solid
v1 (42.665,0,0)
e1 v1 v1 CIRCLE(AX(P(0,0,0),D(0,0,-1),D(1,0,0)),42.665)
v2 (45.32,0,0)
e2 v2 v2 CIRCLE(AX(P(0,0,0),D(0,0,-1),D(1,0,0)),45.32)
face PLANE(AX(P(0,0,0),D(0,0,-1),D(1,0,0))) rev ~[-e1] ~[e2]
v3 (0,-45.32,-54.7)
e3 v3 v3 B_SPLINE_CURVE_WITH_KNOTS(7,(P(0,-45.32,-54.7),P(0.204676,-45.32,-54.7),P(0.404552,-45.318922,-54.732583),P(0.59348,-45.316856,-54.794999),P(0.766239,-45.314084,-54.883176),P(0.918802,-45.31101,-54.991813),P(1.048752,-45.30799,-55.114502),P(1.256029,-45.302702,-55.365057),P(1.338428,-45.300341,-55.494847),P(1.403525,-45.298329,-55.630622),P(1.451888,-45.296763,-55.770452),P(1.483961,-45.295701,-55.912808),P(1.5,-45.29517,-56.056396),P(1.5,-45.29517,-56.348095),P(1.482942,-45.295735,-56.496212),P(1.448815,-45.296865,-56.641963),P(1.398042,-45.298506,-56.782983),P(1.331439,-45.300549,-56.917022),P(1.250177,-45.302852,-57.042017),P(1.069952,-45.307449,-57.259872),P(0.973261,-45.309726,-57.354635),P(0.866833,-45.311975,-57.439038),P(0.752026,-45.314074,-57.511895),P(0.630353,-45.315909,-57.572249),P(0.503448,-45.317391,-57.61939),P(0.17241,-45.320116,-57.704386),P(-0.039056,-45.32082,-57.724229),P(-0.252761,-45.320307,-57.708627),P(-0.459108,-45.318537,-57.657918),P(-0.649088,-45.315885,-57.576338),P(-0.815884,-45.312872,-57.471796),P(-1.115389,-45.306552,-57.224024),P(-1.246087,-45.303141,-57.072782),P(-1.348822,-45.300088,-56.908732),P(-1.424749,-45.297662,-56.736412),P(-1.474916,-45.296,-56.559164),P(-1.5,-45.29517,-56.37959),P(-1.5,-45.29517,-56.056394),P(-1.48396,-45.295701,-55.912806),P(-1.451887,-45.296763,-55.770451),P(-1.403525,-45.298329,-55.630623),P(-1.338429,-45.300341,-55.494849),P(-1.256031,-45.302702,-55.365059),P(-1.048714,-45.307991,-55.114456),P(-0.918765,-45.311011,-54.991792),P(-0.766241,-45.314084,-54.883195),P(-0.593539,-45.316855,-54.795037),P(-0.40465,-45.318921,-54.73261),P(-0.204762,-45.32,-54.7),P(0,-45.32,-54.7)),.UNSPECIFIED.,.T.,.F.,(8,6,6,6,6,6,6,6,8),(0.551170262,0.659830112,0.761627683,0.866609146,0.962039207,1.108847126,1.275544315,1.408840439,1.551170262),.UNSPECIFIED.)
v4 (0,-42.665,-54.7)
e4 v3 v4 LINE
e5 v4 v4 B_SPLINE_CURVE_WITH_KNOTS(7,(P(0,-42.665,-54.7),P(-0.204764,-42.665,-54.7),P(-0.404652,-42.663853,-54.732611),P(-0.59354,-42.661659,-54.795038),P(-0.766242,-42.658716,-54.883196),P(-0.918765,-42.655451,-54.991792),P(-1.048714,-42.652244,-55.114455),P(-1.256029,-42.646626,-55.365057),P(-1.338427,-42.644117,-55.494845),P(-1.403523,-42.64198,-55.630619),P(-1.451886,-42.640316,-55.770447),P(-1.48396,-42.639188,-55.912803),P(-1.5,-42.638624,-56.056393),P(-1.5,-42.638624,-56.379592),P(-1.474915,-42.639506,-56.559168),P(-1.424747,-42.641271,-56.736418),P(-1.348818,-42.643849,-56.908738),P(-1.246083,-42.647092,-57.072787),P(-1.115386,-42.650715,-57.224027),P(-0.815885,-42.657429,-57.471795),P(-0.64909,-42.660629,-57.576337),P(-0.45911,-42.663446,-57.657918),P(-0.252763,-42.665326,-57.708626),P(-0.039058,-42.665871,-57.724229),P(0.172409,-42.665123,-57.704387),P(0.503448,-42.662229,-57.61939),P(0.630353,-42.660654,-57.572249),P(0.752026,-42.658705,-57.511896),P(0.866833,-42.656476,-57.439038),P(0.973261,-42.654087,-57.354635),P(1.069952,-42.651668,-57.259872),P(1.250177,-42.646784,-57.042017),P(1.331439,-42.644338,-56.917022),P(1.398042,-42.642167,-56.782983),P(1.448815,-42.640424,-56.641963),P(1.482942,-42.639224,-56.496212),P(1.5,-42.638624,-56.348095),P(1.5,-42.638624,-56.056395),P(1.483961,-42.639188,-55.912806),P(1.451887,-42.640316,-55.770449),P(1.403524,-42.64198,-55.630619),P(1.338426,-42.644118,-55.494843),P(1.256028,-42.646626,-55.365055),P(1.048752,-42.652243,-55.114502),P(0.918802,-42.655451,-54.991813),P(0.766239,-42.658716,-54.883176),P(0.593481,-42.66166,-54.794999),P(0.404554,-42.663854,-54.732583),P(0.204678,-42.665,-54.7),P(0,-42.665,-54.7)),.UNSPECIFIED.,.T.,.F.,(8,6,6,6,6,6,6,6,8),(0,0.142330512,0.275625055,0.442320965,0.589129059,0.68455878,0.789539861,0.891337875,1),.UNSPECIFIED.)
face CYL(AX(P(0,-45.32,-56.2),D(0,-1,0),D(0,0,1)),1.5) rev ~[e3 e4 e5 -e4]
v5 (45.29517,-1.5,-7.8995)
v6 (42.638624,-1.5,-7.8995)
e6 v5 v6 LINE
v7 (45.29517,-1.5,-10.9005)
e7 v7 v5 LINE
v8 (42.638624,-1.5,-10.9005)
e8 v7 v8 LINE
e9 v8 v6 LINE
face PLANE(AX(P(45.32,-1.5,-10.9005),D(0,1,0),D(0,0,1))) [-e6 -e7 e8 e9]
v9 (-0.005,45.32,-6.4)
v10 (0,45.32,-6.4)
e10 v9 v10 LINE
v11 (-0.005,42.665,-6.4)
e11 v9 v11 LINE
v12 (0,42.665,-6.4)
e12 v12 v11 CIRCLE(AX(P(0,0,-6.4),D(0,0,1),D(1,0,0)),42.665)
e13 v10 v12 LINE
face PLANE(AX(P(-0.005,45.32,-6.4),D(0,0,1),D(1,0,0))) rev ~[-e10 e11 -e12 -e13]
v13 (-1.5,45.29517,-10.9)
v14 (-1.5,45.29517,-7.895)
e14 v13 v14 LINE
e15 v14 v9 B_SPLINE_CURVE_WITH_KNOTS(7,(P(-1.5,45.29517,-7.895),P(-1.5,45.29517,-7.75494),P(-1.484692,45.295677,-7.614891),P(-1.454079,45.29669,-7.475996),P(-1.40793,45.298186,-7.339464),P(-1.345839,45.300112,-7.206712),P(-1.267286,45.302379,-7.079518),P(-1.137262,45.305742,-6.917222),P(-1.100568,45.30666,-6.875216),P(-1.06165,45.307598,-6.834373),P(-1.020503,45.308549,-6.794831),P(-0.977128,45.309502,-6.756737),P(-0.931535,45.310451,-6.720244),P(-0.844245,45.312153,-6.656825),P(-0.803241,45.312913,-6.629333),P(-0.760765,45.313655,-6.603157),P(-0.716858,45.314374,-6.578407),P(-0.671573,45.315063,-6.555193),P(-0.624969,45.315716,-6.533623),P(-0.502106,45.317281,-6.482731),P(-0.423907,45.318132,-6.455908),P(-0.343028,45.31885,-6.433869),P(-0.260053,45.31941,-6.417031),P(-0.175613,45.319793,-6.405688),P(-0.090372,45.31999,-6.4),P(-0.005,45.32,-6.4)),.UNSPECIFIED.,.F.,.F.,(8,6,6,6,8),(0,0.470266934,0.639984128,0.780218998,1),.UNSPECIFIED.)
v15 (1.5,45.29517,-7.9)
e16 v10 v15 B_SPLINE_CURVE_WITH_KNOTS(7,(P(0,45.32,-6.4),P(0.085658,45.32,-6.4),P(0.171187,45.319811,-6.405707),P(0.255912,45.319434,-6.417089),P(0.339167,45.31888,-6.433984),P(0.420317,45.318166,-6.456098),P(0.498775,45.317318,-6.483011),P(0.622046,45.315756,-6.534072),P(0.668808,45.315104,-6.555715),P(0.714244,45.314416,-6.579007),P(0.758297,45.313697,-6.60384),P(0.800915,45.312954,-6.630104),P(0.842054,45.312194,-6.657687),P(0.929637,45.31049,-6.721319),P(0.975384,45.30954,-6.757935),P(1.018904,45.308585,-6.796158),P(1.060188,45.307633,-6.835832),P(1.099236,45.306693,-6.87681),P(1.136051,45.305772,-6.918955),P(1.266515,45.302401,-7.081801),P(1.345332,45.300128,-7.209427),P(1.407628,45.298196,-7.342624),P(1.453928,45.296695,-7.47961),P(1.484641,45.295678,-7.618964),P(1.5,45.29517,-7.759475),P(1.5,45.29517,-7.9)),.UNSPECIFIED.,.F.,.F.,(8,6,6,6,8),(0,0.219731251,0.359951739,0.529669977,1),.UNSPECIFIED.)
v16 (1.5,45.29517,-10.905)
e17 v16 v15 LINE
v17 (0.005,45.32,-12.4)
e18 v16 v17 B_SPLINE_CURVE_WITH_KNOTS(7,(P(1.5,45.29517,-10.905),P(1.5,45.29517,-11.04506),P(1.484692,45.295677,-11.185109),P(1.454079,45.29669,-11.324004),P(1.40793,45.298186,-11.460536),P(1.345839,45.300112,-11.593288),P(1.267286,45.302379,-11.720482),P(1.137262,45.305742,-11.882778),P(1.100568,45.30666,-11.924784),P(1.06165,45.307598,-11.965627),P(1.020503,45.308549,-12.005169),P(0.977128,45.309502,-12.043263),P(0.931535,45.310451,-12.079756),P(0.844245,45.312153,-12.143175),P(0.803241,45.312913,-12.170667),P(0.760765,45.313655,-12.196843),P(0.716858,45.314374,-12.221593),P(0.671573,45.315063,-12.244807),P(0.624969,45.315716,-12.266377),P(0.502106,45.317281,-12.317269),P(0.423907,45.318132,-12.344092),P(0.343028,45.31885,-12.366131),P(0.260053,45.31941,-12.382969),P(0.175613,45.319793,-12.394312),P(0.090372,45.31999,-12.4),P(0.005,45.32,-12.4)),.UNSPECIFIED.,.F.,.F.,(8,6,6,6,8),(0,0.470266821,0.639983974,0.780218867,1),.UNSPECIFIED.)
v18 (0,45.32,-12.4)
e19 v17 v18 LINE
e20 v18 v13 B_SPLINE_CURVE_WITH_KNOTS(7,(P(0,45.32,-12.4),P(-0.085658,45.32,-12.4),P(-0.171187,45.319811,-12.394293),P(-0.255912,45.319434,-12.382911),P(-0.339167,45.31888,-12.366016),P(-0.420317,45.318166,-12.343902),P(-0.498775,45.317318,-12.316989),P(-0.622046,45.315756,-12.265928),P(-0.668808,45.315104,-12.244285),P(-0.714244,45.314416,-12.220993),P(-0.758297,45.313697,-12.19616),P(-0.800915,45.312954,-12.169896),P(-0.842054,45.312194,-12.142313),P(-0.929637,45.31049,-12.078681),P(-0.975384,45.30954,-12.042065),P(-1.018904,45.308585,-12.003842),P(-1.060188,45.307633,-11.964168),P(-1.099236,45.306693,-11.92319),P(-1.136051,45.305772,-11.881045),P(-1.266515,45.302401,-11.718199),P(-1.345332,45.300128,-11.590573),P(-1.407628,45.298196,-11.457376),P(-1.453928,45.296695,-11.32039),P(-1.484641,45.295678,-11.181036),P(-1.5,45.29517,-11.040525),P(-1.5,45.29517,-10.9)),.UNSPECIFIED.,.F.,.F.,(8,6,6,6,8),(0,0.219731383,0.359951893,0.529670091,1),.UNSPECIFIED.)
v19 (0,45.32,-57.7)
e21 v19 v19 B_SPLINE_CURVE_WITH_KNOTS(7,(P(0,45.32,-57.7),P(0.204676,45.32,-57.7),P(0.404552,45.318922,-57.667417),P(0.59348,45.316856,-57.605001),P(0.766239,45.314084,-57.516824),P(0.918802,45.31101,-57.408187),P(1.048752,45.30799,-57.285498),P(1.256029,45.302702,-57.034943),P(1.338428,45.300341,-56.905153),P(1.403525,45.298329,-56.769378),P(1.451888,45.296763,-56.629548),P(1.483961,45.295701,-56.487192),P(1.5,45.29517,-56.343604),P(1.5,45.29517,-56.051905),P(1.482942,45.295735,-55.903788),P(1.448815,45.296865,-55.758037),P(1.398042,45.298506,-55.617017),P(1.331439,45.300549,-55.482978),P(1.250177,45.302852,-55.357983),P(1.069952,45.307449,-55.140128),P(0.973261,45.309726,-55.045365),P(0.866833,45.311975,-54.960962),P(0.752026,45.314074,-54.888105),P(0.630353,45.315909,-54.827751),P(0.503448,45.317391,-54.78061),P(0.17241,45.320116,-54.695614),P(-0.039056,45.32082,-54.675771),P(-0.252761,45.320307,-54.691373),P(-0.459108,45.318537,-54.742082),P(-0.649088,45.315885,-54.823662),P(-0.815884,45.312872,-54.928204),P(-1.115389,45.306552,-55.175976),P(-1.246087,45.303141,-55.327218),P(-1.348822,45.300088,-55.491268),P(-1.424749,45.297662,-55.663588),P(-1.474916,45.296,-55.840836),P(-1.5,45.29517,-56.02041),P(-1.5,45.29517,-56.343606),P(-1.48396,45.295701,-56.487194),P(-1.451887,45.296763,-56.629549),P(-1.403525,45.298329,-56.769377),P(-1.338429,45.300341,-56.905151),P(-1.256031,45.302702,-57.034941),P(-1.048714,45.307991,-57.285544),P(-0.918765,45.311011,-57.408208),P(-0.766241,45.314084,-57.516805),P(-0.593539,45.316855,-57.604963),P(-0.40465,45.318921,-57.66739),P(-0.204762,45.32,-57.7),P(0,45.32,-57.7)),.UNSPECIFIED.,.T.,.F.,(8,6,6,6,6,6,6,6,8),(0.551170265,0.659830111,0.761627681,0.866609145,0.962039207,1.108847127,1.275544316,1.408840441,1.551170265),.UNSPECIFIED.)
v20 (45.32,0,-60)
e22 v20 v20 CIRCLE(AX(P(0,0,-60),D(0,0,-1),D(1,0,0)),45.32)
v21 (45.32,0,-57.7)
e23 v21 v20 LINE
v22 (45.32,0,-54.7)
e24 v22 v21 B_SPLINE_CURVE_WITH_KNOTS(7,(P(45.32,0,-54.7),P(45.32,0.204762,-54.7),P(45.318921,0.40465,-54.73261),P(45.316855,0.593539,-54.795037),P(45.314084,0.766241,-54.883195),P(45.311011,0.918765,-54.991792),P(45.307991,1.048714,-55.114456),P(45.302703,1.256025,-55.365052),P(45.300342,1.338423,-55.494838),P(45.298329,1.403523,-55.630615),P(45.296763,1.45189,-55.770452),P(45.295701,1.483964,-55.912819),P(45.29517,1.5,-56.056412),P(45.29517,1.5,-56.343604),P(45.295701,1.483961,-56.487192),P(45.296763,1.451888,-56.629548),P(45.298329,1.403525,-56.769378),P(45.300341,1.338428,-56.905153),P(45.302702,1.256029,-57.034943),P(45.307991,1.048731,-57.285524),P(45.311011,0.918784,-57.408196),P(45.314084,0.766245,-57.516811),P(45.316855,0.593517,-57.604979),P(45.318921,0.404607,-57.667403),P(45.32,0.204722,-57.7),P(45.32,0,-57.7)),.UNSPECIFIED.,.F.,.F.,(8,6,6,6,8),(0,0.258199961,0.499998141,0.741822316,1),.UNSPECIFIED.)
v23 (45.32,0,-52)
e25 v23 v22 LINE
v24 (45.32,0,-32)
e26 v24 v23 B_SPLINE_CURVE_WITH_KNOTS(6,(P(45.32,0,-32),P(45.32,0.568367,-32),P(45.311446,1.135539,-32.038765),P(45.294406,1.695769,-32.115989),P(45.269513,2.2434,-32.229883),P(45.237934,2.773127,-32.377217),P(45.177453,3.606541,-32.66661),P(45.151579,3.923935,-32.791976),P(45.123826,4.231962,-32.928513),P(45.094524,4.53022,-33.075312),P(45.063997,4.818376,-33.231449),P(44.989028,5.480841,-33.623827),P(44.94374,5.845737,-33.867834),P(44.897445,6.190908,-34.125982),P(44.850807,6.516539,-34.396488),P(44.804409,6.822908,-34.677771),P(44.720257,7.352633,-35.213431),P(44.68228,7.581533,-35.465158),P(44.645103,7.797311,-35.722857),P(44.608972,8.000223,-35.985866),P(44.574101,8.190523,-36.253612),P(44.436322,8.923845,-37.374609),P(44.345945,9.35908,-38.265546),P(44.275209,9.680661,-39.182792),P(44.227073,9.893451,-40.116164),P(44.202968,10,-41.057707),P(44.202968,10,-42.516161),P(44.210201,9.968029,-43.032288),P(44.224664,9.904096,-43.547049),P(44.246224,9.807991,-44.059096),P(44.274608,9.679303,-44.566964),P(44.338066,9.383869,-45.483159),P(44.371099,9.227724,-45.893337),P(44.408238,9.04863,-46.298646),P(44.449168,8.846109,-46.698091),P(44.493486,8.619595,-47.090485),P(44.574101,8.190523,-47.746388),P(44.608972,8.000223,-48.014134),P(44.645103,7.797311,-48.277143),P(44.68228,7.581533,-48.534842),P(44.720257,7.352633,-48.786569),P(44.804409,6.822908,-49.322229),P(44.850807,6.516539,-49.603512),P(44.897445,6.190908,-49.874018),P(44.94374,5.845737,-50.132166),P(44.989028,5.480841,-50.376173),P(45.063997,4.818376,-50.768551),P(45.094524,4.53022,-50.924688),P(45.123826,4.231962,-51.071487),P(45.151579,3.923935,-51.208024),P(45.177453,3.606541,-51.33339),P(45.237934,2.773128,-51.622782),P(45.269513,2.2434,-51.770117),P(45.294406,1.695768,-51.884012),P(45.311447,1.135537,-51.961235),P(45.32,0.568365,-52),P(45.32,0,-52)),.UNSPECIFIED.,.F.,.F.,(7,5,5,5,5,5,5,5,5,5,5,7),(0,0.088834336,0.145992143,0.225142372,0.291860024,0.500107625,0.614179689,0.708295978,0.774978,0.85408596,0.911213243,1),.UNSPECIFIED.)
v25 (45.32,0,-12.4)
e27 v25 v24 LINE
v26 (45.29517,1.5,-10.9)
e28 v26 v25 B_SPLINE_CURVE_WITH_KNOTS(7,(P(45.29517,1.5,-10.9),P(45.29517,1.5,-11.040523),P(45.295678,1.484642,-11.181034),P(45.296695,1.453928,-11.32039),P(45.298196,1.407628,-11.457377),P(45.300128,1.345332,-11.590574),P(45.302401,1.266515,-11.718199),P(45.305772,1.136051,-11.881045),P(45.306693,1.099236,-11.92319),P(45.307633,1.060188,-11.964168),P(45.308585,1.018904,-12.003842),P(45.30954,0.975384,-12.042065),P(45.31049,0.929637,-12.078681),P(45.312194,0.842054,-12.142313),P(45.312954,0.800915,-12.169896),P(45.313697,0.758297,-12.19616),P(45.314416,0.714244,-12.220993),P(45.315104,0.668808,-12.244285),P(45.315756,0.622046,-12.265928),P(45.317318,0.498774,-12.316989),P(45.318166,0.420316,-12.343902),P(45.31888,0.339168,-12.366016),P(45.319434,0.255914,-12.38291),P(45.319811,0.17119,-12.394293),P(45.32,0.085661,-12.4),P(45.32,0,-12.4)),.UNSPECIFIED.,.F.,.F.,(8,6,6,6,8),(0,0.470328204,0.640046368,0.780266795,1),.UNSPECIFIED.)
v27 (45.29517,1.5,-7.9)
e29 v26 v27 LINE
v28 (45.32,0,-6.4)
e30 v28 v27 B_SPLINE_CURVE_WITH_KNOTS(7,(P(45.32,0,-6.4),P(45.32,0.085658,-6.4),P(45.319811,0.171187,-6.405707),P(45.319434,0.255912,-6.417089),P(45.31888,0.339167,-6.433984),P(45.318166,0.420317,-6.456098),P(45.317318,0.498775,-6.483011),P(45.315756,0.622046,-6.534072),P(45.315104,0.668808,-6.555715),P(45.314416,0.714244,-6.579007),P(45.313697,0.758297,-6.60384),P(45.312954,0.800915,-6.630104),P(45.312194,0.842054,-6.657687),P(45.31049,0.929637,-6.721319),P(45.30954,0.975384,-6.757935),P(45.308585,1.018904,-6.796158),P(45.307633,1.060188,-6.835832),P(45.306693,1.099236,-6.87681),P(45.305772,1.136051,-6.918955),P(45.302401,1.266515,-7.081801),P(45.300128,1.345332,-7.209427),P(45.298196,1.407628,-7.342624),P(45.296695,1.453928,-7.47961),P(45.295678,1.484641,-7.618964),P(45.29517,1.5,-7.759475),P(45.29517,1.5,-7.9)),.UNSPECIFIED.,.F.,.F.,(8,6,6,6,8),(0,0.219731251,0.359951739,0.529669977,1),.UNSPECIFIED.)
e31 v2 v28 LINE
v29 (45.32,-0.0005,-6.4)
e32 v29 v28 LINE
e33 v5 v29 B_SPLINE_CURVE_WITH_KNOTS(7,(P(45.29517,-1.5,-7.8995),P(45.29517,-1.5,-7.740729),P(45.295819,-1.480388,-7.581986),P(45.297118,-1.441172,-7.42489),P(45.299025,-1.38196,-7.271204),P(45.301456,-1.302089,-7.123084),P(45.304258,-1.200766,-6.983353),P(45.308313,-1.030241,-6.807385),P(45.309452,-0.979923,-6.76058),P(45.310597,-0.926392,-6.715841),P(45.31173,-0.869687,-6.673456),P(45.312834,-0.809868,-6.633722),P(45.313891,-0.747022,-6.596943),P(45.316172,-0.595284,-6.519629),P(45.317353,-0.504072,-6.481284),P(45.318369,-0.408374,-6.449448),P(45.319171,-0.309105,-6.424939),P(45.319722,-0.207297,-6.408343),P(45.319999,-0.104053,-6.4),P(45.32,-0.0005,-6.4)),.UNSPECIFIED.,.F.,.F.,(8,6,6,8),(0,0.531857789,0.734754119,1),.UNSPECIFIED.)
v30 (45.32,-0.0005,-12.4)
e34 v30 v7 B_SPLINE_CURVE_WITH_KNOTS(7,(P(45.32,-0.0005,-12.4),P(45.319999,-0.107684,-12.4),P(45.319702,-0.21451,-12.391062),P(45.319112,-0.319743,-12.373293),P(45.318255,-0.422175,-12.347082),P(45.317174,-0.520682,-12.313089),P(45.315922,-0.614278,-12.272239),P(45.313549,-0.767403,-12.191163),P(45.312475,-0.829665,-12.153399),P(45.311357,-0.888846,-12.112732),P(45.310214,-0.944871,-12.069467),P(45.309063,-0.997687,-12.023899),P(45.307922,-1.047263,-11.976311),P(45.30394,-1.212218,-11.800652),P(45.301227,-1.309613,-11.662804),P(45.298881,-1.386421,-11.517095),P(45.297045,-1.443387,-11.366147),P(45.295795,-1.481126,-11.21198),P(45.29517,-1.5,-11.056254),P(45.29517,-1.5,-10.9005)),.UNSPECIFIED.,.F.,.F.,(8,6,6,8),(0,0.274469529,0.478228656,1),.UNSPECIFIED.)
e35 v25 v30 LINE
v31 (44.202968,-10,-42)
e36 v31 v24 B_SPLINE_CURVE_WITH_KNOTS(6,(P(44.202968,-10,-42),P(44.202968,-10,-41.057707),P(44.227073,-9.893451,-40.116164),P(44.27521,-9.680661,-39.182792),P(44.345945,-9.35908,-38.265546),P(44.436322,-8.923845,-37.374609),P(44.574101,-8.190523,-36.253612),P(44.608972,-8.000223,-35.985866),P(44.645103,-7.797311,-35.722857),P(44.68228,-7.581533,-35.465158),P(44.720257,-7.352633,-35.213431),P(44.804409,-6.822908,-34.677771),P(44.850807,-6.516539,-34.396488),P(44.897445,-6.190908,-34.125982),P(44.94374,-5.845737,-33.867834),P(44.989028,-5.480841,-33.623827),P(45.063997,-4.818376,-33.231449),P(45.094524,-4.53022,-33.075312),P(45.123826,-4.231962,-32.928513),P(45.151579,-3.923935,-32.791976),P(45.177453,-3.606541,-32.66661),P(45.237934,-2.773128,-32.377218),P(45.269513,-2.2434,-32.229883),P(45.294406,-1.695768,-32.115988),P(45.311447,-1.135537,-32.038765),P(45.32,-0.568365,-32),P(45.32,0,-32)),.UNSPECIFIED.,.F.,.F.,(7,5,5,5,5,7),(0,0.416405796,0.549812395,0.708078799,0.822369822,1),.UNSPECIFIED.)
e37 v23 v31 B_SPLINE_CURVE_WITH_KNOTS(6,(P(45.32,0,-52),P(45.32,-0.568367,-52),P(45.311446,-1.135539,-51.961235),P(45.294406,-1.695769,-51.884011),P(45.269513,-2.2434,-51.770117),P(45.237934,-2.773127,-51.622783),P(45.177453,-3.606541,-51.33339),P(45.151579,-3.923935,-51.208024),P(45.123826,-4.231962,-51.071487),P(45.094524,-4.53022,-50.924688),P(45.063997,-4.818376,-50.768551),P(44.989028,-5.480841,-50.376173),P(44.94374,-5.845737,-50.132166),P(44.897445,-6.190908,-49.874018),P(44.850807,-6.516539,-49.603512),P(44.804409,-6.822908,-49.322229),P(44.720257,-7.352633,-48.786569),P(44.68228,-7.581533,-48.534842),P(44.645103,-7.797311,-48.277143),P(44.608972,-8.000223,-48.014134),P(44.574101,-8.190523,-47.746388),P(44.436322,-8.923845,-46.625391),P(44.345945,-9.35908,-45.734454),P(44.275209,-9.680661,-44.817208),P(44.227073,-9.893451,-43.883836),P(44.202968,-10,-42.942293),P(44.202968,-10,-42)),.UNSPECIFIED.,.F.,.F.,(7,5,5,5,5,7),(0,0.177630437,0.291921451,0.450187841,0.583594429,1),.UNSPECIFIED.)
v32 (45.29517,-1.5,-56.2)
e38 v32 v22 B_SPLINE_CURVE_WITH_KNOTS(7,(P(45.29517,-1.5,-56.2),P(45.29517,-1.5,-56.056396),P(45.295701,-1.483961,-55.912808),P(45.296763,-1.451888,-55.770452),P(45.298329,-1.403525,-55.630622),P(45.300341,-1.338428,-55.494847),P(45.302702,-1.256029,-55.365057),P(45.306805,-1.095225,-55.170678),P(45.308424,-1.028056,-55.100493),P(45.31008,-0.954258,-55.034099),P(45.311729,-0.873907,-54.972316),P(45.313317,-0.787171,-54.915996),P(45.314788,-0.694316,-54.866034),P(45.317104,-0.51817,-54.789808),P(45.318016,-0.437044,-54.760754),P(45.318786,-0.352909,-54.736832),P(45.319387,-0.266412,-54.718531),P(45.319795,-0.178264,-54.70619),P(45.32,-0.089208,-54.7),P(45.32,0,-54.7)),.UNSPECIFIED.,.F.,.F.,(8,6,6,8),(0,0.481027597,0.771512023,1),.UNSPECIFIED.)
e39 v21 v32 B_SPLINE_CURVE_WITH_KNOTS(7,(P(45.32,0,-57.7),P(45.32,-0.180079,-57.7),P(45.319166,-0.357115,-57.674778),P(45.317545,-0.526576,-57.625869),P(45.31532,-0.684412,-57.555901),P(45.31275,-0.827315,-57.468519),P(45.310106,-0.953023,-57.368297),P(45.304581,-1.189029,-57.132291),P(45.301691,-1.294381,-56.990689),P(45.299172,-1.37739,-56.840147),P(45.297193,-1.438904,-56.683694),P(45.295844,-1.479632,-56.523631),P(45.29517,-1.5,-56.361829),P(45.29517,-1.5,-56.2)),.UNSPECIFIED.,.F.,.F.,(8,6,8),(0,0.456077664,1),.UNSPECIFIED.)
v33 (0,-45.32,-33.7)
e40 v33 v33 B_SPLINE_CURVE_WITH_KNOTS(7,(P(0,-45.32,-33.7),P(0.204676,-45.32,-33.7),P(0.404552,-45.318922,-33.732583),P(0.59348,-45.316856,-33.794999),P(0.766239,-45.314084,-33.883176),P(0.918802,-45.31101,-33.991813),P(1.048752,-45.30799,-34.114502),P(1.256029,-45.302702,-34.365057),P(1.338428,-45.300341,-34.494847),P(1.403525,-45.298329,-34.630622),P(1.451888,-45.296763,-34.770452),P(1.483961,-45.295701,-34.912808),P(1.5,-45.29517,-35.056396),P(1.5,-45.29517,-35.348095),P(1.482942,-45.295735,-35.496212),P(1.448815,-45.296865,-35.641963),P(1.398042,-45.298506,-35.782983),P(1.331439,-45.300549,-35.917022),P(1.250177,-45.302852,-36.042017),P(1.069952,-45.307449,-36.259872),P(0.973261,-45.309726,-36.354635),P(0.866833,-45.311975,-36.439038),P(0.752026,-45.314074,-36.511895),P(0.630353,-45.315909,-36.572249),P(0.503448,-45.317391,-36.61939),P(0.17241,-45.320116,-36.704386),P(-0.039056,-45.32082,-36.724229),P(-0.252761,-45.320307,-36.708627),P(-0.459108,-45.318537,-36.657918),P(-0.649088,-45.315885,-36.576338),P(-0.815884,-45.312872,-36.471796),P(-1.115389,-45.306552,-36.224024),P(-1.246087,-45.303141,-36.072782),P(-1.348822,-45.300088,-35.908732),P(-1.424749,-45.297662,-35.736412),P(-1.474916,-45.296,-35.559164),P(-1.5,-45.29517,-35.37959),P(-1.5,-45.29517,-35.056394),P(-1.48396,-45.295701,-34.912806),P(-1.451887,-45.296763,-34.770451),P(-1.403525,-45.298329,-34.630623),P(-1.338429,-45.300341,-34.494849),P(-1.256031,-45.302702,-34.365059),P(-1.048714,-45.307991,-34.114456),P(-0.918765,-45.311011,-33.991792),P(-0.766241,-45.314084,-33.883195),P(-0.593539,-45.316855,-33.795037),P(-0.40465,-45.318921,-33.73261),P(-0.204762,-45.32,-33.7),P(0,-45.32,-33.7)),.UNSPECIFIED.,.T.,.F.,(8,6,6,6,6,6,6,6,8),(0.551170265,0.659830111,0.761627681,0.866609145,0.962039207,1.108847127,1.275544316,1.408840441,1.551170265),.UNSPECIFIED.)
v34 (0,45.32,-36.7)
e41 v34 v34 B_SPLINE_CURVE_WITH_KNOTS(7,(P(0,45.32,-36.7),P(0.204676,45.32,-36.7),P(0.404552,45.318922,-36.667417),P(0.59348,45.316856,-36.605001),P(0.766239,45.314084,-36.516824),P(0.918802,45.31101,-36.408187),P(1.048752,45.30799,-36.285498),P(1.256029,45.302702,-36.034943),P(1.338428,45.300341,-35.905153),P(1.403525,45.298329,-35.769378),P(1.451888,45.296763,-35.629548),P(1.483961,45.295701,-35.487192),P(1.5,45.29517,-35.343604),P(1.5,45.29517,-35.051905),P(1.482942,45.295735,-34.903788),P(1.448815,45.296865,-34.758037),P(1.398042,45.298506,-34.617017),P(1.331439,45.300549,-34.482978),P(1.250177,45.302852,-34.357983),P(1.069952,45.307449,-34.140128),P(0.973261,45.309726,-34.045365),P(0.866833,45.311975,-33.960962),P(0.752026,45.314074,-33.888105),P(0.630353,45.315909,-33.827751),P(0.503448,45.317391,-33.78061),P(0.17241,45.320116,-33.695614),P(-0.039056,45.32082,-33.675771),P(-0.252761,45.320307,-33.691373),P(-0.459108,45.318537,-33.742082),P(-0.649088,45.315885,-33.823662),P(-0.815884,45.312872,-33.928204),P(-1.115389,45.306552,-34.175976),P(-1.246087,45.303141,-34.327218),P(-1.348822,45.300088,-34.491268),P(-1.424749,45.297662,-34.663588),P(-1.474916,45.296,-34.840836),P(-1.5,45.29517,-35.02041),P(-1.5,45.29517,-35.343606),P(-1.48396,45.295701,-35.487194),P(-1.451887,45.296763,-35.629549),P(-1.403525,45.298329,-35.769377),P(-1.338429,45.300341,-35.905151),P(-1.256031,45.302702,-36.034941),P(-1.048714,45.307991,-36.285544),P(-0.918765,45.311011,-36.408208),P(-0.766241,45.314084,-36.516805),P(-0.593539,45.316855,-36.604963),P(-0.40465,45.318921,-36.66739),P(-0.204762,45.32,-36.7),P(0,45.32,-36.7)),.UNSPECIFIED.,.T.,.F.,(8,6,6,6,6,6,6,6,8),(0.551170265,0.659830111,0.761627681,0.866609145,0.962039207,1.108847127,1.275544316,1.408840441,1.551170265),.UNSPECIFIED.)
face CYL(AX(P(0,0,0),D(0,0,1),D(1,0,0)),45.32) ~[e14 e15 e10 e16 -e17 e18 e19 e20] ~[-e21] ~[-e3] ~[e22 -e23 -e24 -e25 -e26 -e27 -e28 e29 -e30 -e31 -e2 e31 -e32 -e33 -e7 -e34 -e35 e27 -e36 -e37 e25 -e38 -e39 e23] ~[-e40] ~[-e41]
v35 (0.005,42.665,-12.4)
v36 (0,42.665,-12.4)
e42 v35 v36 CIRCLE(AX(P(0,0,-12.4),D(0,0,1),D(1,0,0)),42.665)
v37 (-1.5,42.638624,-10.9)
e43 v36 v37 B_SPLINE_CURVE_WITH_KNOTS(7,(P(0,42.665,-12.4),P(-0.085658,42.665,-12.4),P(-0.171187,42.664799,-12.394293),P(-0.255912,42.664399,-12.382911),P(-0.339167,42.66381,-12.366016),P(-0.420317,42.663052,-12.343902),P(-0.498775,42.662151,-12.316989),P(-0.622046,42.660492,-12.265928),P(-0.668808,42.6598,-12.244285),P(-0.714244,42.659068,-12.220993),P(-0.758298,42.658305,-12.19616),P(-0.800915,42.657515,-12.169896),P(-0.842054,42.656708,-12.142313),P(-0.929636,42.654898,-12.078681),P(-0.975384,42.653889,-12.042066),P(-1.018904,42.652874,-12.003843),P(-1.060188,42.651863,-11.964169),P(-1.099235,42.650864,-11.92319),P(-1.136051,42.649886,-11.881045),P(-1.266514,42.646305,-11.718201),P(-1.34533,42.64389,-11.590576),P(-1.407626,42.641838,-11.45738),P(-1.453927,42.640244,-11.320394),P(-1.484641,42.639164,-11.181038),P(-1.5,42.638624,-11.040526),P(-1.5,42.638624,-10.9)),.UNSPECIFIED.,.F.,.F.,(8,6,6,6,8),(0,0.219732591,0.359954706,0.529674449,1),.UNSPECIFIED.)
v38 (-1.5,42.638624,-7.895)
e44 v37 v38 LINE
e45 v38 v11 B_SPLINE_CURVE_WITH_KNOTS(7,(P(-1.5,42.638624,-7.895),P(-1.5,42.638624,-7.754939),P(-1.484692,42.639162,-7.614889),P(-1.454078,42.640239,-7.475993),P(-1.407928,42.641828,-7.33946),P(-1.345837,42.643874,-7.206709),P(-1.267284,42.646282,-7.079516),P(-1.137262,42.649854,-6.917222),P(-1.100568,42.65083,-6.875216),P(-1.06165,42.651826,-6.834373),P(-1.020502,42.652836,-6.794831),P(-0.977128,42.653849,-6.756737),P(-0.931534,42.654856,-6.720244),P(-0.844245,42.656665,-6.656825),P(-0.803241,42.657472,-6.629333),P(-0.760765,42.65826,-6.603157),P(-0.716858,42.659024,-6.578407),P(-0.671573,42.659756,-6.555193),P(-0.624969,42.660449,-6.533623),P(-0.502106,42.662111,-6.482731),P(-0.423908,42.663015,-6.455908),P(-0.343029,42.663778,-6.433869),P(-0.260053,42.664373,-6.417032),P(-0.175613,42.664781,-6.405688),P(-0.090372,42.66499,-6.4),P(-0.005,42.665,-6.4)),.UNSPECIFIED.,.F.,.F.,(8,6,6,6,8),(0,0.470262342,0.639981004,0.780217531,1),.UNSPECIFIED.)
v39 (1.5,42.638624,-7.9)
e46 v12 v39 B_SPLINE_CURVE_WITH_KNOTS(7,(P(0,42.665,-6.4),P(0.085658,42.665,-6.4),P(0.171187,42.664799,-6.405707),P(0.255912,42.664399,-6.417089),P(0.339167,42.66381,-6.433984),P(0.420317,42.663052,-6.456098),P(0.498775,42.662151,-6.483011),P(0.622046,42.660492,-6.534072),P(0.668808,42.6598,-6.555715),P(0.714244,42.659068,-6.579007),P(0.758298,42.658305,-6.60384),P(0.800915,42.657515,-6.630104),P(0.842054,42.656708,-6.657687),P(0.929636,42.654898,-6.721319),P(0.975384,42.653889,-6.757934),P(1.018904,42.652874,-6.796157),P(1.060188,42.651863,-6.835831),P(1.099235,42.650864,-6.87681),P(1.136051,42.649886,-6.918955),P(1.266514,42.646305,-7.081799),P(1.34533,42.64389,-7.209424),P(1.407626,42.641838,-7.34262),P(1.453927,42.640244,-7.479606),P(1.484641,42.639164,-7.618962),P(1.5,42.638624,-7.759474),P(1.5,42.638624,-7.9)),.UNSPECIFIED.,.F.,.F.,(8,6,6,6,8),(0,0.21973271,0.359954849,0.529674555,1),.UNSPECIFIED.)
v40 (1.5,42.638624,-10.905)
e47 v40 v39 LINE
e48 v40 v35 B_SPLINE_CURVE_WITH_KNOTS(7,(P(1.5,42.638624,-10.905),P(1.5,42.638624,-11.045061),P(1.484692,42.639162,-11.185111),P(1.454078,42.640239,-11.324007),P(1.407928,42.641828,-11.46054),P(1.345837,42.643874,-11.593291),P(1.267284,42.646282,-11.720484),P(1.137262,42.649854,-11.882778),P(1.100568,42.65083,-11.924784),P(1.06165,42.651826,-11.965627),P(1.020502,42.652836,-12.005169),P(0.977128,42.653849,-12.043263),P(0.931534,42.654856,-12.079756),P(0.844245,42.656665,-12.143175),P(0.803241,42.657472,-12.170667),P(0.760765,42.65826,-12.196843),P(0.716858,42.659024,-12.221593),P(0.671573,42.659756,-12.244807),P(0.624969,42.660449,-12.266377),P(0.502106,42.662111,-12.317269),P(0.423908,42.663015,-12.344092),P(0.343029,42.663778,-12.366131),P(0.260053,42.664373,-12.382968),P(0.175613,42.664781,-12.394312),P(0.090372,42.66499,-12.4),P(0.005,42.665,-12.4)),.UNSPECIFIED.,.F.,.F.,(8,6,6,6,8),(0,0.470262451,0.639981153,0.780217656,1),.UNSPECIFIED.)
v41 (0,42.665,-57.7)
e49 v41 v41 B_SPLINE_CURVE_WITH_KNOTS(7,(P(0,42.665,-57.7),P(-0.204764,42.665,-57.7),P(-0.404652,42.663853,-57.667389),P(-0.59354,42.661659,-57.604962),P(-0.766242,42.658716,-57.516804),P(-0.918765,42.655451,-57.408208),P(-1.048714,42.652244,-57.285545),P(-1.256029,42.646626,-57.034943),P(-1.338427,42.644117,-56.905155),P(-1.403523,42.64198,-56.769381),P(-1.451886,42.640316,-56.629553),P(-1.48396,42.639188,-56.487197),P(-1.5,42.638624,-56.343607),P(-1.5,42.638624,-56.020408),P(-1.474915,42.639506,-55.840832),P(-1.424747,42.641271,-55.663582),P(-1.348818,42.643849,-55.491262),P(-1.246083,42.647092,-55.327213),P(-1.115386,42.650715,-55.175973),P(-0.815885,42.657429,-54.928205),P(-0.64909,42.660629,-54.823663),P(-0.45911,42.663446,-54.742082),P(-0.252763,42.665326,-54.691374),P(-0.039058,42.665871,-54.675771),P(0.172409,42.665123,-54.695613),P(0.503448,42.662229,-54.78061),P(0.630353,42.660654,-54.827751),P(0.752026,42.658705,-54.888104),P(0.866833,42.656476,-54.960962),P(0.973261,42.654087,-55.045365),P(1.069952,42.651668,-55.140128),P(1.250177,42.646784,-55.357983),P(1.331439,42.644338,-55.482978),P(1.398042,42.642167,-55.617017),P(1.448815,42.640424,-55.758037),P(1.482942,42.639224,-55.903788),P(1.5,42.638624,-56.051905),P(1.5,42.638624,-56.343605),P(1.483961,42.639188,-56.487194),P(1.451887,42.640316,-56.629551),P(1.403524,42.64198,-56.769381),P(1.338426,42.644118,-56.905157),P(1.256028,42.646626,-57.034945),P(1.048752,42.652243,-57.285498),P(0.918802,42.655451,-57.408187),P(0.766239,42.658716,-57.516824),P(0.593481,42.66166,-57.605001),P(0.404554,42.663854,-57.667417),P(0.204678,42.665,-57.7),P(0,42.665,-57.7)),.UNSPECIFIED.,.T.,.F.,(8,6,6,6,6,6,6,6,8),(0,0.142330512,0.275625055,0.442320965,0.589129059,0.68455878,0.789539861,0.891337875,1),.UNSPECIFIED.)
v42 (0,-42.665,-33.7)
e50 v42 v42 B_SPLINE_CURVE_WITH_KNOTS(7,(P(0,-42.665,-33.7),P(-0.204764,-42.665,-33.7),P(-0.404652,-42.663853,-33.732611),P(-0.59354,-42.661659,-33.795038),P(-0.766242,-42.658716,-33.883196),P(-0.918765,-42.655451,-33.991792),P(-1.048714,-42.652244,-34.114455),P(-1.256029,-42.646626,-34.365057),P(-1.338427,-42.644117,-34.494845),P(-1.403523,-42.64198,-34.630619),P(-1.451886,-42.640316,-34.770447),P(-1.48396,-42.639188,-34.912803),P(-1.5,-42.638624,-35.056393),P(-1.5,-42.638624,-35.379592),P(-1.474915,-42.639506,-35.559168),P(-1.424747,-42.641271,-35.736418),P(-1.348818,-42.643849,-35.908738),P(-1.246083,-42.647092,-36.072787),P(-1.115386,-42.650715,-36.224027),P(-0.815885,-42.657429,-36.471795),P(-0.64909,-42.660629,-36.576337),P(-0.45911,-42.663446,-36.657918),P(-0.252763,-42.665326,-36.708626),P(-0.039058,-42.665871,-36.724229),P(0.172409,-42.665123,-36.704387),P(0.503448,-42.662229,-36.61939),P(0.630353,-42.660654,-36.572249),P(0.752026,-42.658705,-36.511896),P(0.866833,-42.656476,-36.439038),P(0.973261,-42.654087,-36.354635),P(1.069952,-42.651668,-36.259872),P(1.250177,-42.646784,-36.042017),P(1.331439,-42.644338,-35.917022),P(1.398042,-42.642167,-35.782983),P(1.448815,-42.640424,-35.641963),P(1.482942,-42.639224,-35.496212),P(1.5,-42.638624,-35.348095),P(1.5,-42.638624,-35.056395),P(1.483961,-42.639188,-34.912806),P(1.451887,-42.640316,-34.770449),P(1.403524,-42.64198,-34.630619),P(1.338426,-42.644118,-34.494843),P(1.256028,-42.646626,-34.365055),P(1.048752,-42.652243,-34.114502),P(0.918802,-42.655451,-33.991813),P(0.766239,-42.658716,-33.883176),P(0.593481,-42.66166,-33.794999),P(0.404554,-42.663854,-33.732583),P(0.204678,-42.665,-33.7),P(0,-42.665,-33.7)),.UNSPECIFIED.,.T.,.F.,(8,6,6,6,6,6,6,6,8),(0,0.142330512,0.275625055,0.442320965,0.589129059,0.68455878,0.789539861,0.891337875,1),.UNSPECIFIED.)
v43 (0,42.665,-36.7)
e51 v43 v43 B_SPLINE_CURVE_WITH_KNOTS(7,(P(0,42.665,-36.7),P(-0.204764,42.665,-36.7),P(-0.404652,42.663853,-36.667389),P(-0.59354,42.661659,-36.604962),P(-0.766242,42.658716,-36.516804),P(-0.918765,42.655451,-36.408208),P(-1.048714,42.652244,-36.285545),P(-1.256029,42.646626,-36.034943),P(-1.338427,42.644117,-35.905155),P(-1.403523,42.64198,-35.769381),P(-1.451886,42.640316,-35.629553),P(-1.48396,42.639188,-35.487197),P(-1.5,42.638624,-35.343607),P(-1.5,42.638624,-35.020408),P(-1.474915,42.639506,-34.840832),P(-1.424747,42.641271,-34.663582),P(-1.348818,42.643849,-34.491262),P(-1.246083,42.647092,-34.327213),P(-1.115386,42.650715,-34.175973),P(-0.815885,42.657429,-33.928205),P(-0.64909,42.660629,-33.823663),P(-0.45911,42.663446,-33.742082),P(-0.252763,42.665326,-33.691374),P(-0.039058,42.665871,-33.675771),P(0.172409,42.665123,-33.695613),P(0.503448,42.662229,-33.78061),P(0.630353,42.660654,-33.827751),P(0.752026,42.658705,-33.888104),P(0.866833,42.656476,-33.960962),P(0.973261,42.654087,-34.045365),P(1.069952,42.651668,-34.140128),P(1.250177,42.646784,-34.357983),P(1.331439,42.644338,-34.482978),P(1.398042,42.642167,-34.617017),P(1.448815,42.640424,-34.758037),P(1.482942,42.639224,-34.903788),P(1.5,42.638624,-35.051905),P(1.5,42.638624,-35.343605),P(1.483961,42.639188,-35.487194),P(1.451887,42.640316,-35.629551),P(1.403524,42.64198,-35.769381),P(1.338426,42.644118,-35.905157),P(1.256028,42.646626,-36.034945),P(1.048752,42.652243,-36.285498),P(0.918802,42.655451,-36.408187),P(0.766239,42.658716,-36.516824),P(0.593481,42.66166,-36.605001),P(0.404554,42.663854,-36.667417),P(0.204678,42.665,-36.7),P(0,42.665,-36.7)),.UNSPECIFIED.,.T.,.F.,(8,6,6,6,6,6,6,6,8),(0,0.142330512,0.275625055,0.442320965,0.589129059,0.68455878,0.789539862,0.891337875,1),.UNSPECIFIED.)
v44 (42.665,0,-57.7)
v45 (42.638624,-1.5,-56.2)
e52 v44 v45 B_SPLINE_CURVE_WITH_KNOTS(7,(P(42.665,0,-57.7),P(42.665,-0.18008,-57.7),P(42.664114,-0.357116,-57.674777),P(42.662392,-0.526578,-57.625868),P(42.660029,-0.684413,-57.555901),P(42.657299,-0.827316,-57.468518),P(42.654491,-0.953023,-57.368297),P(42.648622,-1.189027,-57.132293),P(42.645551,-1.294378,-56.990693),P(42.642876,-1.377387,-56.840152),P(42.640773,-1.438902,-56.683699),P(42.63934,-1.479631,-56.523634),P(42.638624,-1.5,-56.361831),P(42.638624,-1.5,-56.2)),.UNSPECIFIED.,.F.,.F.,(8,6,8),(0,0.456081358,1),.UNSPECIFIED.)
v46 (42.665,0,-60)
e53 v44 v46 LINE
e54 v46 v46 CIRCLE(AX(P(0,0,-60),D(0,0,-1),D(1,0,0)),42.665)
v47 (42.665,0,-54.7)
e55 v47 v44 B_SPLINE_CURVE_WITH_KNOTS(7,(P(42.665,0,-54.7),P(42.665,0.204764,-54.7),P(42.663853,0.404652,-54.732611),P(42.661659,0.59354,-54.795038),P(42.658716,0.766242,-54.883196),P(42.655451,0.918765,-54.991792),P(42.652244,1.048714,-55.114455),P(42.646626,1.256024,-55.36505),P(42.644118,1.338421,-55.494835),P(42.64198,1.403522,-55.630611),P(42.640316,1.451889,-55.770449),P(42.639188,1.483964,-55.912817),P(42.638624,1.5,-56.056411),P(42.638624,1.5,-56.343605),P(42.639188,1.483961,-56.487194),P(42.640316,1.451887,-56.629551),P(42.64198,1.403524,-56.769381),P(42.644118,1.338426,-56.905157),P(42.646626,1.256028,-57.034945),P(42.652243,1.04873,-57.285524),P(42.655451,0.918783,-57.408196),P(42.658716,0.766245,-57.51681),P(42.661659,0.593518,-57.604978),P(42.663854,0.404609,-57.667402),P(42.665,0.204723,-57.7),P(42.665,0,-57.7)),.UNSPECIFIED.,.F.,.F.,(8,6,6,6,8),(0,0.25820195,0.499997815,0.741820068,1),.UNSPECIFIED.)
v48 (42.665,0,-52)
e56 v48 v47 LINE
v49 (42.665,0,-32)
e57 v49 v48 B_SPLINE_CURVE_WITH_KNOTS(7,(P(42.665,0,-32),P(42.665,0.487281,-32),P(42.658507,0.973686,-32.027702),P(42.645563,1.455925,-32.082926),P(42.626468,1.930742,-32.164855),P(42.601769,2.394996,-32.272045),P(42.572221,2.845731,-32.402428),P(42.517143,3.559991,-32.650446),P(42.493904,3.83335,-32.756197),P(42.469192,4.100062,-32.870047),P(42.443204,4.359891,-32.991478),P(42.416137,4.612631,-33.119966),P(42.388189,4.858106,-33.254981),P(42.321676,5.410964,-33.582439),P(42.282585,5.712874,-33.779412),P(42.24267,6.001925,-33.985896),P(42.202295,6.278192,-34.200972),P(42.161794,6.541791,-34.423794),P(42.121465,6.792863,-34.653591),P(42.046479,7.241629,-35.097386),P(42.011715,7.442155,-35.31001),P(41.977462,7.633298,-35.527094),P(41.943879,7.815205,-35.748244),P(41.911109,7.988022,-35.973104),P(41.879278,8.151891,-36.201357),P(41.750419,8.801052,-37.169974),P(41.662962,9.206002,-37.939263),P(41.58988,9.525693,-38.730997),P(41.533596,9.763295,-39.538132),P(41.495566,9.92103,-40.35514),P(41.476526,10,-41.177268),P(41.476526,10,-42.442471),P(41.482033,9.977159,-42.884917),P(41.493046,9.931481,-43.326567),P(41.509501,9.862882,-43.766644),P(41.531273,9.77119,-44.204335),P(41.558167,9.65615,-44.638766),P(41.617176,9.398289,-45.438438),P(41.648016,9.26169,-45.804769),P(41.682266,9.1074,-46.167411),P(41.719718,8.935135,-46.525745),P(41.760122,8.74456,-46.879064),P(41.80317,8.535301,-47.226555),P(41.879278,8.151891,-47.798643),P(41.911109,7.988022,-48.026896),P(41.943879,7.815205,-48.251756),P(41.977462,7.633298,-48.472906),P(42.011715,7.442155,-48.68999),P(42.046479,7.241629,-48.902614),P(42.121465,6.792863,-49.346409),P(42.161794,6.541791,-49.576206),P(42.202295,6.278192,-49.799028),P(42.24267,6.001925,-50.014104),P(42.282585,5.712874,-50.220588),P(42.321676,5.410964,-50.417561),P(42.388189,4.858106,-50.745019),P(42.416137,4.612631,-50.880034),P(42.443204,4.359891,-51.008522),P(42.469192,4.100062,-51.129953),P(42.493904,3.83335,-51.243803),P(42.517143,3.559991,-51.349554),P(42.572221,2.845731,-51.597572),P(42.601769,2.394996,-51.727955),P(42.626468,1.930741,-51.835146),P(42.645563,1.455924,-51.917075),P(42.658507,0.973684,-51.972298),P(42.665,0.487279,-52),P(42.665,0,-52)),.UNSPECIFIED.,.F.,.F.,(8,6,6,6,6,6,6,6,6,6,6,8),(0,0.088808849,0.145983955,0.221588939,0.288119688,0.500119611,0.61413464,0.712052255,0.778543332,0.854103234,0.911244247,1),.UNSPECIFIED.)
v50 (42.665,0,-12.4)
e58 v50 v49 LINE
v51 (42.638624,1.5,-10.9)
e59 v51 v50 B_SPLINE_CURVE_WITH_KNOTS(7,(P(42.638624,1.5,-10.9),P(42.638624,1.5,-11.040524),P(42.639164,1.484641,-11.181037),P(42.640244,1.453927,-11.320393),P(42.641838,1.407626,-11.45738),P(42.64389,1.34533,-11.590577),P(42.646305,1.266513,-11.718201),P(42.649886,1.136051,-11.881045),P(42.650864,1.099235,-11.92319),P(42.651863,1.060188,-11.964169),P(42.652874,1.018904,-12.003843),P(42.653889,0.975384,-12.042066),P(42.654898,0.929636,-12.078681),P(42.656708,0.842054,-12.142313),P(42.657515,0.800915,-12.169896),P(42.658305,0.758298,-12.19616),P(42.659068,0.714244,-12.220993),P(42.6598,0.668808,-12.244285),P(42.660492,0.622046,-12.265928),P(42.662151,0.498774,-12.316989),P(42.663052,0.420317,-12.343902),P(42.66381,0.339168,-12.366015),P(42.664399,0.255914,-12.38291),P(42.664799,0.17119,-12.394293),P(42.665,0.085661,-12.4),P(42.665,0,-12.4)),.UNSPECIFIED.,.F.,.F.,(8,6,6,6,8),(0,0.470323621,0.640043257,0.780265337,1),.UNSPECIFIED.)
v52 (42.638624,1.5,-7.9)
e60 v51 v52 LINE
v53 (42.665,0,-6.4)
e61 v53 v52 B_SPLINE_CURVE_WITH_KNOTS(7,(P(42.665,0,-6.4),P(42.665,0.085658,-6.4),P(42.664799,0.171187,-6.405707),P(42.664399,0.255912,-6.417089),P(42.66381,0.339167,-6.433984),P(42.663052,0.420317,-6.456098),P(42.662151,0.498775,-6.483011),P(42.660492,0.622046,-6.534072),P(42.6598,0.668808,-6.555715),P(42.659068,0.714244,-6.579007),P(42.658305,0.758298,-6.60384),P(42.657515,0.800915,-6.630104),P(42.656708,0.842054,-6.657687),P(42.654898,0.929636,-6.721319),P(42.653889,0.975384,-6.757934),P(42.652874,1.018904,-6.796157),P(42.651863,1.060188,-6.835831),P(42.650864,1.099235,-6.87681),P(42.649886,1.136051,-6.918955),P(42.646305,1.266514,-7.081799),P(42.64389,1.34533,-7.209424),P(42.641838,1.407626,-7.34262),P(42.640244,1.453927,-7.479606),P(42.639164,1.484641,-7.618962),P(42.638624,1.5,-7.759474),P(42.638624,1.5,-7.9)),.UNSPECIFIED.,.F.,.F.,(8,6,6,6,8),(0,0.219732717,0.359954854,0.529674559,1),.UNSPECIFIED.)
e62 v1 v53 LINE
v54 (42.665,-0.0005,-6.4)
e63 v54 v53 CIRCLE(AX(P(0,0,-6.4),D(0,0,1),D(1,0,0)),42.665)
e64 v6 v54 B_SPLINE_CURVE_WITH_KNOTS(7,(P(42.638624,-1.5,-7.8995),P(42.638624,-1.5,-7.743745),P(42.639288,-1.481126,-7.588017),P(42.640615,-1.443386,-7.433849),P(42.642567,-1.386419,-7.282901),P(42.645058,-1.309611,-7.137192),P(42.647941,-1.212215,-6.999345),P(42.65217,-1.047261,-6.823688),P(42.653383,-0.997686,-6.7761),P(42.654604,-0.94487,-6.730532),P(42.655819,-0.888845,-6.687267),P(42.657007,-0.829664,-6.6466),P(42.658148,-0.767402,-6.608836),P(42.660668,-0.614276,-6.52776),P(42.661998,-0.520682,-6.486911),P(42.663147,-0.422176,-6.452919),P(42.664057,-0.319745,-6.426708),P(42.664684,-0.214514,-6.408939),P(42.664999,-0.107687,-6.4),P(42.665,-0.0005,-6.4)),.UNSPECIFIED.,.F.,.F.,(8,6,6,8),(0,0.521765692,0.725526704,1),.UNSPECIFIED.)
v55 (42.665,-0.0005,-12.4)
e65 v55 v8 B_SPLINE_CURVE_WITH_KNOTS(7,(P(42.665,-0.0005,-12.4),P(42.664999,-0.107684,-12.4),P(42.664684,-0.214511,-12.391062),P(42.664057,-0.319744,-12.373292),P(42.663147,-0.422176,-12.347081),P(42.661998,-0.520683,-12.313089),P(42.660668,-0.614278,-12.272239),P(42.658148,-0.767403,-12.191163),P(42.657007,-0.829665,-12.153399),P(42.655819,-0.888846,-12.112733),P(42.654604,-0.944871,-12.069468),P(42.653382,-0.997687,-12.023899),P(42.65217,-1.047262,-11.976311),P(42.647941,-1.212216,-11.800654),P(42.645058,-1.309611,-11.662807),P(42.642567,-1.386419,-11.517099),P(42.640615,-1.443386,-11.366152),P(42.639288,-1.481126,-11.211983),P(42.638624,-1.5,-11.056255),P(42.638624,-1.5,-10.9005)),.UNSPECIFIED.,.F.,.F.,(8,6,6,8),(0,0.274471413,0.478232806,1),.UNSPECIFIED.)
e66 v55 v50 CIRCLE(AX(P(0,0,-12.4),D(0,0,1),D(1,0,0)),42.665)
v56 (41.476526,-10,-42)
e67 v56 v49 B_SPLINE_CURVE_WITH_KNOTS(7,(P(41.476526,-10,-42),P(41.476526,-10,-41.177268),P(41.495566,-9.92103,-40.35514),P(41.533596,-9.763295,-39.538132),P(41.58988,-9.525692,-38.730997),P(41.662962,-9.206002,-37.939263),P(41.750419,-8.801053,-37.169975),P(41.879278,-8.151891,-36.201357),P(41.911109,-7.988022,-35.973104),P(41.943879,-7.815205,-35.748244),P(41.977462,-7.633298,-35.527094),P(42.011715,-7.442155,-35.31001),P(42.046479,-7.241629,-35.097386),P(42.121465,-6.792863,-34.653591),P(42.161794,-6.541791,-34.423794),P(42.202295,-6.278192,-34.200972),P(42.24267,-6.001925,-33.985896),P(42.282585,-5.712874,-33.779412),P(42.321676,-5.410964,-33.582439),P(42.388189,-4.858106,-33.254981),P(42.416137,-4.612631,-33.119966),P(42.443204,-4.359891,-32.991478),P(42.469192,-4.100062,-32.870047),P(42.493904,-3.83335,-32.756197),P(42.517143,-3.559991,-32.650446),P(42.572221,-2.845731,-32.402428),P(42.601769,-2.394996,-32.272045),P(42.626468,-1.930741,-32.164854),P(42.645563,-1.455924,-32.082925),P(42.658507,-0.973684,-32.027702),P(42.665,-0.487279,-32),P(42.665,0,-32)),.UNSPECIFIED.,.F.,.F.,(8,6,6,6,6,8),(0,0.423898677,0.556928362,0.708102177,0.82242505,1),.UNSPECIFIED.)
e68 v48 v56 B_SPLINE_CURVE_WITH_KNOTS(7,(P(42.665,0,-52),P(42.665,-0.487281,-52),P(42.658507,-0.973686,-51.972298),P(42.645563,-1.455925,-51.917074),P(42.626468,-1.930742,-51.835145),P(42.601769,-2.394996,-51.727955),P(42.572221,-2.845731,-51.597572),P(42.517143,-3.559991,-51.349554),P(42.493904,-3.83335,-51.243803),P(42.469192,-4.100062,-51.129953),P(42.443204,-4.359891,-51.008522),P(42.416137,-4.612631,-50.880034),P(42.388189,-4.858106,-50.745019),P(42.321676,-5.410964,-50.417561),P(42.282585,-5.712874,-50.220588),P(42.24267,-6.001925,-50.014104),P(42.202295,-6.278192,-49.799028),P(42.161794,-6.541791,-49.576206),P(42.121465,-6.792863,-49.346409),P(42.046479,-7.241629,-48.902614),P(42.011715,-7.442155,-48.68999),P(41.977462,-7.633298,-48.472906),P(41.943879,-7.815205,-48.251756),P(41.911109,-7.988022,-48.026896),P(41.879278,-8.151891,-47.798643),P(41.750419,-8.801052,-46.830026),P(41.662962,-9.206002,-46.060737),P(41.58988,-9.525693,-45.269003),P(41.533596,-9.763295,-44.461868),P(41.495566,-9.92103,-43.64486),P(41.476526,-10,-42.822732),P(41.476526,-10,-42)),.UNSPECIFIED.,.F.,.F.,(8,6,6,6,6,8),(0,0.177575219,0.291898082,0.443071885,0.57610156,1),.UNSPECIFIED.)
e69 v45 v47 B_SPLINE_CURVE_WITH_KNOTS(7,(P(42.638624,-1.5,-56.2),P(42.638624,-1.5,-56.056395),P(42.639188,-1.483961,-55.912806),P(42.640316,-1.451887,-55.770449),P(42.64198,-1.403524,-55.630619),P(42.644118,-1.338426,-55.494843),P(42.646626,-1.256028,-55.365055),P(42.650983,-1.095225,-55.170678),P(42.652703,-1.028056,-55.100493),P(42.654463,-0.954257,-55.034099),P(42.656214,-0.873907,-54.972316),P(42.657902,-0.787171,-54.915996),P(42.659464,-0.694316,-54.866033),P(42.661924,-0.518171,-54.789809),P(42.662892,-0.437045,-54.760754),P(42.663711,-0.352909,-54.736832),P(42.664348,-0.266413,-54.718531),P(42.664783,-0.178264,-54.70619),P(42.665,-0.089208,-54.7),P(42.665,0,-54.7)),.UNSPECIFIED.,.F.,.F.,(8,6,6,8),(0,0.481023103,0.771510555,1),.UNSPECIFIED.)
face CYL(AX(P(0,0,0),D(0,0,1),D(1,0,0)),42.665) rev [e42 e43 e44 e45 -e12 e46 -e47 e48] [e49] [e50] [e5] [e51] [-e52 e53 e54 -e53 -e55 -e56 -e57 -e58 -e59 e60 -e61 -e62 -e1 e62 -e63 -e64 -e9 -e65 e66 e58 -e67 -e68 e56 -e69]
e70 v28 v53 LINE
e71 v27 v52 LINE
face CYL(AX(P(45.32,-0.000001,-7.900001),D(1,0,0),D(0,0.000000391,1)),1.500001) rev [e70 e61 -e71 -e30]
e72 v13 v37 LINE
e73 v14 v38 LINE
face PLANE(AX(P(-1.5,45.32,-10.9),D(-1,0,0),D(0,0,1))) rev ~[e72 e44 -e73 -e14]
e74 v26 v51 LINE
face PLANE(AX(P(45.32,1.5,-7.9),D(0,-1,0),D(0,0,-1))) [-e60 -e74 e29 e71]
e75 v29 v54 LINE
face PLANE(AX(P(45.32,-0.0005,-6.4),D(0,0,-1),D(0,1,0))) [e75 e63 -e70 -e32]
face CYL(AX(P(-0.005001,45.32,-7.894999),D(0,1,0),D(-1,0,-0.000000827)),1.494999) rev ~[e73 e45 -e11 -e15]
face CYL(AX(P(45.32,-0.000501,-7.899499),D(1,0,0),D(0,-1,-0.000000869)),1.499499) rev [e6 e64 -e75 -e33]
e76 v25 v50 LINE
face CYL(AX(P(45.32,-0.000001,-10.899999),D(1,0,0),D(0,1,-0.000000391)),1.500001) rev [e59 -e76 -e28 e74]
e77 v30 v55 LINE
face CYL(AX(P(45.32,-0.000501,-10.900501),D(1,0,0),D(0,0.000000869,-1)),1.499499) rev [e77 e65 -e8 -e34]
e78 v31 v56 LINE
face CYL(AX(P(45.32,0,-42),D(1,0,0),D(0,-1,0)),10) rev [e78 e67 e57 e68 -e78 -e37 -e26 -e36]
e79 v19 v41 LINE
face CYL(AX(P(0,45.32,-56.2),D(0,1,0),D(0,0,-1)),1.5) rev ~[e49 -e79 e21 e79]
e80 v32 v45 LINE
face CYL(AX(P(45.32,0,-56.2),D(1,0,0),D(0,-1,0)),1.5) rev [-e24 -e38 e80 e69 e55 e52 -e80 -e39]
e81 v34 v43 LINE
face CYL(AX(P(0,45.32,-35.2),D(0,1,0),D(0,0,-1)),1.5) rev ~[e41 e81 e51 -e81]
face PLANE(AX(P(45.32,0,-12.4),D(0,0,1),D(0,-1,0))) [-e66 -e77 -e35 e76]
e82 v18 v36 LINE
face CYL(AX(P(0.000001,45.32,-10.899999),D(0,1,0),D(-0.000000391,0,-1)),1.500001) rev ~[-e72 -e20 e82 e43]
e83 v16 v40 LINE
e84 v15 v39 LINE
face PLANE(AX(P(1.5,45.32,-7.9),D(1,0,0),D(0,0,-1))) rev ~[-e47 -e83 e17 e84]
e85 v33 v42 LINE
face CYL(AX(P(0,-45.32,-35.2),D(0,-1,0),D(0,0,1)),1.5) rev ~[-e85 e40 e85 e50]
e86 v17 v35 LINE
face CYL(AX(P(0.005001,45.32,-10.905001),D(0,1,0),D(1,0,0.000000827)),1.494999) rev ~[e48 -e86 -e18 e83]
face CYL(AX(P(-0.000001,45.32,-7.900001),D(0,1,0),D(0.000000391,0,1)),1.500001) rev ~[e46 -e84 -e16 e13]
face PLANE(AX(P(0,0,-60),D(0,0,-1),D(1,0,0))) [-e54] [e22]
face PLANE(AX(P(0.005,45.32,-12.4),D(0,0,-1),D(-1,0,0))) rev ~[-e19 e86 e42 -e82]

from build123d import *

# Parameters (mm, degrees)
SKETCH_R             = 45.32
SKETCH_R_2           = 42.665
PAD_DEPTH            = 60
SKETCH002_R          = 1.5
SKETCH002_R_2        = 10
POCKET_DEPTH         = 8
SKETCH003_R          = 1.5
POCKET001_DEPTH      = 8
SKETCH004_R          = 1.5
POCKET002_DEPTH      = 5
BODY_PLACEMENT_ANGLE = 180


with BuildPart() as part:
    # Sketch → Pad (new body)
    with BuildSketch(Plane.XY):
        Circle(SKETCH_R)
        Circle(SKETCH_R_2, mode=Mode.SUBTRACT)
    extrude(amount=PAD_DEPTH)

    # Sketch002 (on DatumPlane) → Pocket (cut)
    with BuildSketch(Plane(origin=(45.32, 0, 60), x_dir=(0, 1, 0), z_dir=(-1, 0, 0))):
        with Locations((0, 3.8)):
            Circle(SKETCH002_R)
        with Locations((0, 18)):
            Circle(SKETCH002_R_2)
        with BuildLine():
            Line((0, 47.6), (0.0005, 47.6))
            ThreePointArc((0.0005, 47.6), (1.060807, 48.039193), (1.5, 49.0995))
            Line((1.5, 49.0995), (1.5, 52.1005))
            ThreePointArc((1.5, 52.1005), (1.060807, 53.160807), (0.0005, 53.6))
            Line((0.0005, 53.6), (0, 53.6))
            ThreePointArc((0, 53.6), (-1.06066, 53.16066), (-1.5, 52.1))
            Line((-1.5, 52.1), (-1.5, 49.1))
            ThreePointArc((-1.5, 49.1), (-1.06066, 48.03934), (0, 47.6))
        make_face()
    extrude(amount=POCKET_DEPTH, mode=Mode.SUBTRACT)

    # Sketch003 (on DatumPlane) → Pocket001 (cut)
    with BuildSketch(Plane(origin=(0, 45.32, 60), x_dir=(0, 0, -1), z_dir=(0, 1, 0))):
        with Locations((3.8, 0)):
            Circle(SKETCH003_R)
        with Locations((24.8, 0)):
            Circle(SKETCH003_R)
    extrude(amount=-POCKET001_DEPTH, mode=Mode.SUBTRACT)

    # Sketch004 (on DatumPlane) → Pocket002 (cut)
    with BuildSketch(Plane(origin=(0, -45.32, 60), x_dir=(0, 0, 1), z_dir=(0, -1, 0))):
        with Locations((-3.8, 0)):
            Circle(SKETCH004_R)
        with Locations((-24.8, 0)):
            Circle(SKETCH004_R)
        with BuildLine():
            Line((-52.1, -1.5), (-49.095, -1.5))
            ThreePointArc((-49.095, -1.5), (-48.037875, -1.062125), (-47.6, -0.005))
            Line((-47.6, -0.005), (-47.6, 0))
            ThreePointArc((-47.6, 0), (-48.03934, 1.06066), (-49.1, 1.5))
            Line((-49.1, 1.5), (-52.105, 1.5))
            ThreePointArc((-52.105, 1.5), (-53.162125, 1.062125), (-53.6, 0.005))
            Line((-53.6, 0.005), (-53.6, 0))
            ThreePointArc((-53.6, 0), (-53.16066, -1.06066), (-52.1, -1.5))
        make_face()
    extrude(amount=-POCKET002_DEPTH, mode=Mode.SUBTRACT)


with BuildPart() as part_1:
    # Body placement: moved
    add(part.part.rotate(Axis((0, 0, 0), (1, 0, 0)), BODY_PLACEMENT_ANGLE))


solid = part_1.part
